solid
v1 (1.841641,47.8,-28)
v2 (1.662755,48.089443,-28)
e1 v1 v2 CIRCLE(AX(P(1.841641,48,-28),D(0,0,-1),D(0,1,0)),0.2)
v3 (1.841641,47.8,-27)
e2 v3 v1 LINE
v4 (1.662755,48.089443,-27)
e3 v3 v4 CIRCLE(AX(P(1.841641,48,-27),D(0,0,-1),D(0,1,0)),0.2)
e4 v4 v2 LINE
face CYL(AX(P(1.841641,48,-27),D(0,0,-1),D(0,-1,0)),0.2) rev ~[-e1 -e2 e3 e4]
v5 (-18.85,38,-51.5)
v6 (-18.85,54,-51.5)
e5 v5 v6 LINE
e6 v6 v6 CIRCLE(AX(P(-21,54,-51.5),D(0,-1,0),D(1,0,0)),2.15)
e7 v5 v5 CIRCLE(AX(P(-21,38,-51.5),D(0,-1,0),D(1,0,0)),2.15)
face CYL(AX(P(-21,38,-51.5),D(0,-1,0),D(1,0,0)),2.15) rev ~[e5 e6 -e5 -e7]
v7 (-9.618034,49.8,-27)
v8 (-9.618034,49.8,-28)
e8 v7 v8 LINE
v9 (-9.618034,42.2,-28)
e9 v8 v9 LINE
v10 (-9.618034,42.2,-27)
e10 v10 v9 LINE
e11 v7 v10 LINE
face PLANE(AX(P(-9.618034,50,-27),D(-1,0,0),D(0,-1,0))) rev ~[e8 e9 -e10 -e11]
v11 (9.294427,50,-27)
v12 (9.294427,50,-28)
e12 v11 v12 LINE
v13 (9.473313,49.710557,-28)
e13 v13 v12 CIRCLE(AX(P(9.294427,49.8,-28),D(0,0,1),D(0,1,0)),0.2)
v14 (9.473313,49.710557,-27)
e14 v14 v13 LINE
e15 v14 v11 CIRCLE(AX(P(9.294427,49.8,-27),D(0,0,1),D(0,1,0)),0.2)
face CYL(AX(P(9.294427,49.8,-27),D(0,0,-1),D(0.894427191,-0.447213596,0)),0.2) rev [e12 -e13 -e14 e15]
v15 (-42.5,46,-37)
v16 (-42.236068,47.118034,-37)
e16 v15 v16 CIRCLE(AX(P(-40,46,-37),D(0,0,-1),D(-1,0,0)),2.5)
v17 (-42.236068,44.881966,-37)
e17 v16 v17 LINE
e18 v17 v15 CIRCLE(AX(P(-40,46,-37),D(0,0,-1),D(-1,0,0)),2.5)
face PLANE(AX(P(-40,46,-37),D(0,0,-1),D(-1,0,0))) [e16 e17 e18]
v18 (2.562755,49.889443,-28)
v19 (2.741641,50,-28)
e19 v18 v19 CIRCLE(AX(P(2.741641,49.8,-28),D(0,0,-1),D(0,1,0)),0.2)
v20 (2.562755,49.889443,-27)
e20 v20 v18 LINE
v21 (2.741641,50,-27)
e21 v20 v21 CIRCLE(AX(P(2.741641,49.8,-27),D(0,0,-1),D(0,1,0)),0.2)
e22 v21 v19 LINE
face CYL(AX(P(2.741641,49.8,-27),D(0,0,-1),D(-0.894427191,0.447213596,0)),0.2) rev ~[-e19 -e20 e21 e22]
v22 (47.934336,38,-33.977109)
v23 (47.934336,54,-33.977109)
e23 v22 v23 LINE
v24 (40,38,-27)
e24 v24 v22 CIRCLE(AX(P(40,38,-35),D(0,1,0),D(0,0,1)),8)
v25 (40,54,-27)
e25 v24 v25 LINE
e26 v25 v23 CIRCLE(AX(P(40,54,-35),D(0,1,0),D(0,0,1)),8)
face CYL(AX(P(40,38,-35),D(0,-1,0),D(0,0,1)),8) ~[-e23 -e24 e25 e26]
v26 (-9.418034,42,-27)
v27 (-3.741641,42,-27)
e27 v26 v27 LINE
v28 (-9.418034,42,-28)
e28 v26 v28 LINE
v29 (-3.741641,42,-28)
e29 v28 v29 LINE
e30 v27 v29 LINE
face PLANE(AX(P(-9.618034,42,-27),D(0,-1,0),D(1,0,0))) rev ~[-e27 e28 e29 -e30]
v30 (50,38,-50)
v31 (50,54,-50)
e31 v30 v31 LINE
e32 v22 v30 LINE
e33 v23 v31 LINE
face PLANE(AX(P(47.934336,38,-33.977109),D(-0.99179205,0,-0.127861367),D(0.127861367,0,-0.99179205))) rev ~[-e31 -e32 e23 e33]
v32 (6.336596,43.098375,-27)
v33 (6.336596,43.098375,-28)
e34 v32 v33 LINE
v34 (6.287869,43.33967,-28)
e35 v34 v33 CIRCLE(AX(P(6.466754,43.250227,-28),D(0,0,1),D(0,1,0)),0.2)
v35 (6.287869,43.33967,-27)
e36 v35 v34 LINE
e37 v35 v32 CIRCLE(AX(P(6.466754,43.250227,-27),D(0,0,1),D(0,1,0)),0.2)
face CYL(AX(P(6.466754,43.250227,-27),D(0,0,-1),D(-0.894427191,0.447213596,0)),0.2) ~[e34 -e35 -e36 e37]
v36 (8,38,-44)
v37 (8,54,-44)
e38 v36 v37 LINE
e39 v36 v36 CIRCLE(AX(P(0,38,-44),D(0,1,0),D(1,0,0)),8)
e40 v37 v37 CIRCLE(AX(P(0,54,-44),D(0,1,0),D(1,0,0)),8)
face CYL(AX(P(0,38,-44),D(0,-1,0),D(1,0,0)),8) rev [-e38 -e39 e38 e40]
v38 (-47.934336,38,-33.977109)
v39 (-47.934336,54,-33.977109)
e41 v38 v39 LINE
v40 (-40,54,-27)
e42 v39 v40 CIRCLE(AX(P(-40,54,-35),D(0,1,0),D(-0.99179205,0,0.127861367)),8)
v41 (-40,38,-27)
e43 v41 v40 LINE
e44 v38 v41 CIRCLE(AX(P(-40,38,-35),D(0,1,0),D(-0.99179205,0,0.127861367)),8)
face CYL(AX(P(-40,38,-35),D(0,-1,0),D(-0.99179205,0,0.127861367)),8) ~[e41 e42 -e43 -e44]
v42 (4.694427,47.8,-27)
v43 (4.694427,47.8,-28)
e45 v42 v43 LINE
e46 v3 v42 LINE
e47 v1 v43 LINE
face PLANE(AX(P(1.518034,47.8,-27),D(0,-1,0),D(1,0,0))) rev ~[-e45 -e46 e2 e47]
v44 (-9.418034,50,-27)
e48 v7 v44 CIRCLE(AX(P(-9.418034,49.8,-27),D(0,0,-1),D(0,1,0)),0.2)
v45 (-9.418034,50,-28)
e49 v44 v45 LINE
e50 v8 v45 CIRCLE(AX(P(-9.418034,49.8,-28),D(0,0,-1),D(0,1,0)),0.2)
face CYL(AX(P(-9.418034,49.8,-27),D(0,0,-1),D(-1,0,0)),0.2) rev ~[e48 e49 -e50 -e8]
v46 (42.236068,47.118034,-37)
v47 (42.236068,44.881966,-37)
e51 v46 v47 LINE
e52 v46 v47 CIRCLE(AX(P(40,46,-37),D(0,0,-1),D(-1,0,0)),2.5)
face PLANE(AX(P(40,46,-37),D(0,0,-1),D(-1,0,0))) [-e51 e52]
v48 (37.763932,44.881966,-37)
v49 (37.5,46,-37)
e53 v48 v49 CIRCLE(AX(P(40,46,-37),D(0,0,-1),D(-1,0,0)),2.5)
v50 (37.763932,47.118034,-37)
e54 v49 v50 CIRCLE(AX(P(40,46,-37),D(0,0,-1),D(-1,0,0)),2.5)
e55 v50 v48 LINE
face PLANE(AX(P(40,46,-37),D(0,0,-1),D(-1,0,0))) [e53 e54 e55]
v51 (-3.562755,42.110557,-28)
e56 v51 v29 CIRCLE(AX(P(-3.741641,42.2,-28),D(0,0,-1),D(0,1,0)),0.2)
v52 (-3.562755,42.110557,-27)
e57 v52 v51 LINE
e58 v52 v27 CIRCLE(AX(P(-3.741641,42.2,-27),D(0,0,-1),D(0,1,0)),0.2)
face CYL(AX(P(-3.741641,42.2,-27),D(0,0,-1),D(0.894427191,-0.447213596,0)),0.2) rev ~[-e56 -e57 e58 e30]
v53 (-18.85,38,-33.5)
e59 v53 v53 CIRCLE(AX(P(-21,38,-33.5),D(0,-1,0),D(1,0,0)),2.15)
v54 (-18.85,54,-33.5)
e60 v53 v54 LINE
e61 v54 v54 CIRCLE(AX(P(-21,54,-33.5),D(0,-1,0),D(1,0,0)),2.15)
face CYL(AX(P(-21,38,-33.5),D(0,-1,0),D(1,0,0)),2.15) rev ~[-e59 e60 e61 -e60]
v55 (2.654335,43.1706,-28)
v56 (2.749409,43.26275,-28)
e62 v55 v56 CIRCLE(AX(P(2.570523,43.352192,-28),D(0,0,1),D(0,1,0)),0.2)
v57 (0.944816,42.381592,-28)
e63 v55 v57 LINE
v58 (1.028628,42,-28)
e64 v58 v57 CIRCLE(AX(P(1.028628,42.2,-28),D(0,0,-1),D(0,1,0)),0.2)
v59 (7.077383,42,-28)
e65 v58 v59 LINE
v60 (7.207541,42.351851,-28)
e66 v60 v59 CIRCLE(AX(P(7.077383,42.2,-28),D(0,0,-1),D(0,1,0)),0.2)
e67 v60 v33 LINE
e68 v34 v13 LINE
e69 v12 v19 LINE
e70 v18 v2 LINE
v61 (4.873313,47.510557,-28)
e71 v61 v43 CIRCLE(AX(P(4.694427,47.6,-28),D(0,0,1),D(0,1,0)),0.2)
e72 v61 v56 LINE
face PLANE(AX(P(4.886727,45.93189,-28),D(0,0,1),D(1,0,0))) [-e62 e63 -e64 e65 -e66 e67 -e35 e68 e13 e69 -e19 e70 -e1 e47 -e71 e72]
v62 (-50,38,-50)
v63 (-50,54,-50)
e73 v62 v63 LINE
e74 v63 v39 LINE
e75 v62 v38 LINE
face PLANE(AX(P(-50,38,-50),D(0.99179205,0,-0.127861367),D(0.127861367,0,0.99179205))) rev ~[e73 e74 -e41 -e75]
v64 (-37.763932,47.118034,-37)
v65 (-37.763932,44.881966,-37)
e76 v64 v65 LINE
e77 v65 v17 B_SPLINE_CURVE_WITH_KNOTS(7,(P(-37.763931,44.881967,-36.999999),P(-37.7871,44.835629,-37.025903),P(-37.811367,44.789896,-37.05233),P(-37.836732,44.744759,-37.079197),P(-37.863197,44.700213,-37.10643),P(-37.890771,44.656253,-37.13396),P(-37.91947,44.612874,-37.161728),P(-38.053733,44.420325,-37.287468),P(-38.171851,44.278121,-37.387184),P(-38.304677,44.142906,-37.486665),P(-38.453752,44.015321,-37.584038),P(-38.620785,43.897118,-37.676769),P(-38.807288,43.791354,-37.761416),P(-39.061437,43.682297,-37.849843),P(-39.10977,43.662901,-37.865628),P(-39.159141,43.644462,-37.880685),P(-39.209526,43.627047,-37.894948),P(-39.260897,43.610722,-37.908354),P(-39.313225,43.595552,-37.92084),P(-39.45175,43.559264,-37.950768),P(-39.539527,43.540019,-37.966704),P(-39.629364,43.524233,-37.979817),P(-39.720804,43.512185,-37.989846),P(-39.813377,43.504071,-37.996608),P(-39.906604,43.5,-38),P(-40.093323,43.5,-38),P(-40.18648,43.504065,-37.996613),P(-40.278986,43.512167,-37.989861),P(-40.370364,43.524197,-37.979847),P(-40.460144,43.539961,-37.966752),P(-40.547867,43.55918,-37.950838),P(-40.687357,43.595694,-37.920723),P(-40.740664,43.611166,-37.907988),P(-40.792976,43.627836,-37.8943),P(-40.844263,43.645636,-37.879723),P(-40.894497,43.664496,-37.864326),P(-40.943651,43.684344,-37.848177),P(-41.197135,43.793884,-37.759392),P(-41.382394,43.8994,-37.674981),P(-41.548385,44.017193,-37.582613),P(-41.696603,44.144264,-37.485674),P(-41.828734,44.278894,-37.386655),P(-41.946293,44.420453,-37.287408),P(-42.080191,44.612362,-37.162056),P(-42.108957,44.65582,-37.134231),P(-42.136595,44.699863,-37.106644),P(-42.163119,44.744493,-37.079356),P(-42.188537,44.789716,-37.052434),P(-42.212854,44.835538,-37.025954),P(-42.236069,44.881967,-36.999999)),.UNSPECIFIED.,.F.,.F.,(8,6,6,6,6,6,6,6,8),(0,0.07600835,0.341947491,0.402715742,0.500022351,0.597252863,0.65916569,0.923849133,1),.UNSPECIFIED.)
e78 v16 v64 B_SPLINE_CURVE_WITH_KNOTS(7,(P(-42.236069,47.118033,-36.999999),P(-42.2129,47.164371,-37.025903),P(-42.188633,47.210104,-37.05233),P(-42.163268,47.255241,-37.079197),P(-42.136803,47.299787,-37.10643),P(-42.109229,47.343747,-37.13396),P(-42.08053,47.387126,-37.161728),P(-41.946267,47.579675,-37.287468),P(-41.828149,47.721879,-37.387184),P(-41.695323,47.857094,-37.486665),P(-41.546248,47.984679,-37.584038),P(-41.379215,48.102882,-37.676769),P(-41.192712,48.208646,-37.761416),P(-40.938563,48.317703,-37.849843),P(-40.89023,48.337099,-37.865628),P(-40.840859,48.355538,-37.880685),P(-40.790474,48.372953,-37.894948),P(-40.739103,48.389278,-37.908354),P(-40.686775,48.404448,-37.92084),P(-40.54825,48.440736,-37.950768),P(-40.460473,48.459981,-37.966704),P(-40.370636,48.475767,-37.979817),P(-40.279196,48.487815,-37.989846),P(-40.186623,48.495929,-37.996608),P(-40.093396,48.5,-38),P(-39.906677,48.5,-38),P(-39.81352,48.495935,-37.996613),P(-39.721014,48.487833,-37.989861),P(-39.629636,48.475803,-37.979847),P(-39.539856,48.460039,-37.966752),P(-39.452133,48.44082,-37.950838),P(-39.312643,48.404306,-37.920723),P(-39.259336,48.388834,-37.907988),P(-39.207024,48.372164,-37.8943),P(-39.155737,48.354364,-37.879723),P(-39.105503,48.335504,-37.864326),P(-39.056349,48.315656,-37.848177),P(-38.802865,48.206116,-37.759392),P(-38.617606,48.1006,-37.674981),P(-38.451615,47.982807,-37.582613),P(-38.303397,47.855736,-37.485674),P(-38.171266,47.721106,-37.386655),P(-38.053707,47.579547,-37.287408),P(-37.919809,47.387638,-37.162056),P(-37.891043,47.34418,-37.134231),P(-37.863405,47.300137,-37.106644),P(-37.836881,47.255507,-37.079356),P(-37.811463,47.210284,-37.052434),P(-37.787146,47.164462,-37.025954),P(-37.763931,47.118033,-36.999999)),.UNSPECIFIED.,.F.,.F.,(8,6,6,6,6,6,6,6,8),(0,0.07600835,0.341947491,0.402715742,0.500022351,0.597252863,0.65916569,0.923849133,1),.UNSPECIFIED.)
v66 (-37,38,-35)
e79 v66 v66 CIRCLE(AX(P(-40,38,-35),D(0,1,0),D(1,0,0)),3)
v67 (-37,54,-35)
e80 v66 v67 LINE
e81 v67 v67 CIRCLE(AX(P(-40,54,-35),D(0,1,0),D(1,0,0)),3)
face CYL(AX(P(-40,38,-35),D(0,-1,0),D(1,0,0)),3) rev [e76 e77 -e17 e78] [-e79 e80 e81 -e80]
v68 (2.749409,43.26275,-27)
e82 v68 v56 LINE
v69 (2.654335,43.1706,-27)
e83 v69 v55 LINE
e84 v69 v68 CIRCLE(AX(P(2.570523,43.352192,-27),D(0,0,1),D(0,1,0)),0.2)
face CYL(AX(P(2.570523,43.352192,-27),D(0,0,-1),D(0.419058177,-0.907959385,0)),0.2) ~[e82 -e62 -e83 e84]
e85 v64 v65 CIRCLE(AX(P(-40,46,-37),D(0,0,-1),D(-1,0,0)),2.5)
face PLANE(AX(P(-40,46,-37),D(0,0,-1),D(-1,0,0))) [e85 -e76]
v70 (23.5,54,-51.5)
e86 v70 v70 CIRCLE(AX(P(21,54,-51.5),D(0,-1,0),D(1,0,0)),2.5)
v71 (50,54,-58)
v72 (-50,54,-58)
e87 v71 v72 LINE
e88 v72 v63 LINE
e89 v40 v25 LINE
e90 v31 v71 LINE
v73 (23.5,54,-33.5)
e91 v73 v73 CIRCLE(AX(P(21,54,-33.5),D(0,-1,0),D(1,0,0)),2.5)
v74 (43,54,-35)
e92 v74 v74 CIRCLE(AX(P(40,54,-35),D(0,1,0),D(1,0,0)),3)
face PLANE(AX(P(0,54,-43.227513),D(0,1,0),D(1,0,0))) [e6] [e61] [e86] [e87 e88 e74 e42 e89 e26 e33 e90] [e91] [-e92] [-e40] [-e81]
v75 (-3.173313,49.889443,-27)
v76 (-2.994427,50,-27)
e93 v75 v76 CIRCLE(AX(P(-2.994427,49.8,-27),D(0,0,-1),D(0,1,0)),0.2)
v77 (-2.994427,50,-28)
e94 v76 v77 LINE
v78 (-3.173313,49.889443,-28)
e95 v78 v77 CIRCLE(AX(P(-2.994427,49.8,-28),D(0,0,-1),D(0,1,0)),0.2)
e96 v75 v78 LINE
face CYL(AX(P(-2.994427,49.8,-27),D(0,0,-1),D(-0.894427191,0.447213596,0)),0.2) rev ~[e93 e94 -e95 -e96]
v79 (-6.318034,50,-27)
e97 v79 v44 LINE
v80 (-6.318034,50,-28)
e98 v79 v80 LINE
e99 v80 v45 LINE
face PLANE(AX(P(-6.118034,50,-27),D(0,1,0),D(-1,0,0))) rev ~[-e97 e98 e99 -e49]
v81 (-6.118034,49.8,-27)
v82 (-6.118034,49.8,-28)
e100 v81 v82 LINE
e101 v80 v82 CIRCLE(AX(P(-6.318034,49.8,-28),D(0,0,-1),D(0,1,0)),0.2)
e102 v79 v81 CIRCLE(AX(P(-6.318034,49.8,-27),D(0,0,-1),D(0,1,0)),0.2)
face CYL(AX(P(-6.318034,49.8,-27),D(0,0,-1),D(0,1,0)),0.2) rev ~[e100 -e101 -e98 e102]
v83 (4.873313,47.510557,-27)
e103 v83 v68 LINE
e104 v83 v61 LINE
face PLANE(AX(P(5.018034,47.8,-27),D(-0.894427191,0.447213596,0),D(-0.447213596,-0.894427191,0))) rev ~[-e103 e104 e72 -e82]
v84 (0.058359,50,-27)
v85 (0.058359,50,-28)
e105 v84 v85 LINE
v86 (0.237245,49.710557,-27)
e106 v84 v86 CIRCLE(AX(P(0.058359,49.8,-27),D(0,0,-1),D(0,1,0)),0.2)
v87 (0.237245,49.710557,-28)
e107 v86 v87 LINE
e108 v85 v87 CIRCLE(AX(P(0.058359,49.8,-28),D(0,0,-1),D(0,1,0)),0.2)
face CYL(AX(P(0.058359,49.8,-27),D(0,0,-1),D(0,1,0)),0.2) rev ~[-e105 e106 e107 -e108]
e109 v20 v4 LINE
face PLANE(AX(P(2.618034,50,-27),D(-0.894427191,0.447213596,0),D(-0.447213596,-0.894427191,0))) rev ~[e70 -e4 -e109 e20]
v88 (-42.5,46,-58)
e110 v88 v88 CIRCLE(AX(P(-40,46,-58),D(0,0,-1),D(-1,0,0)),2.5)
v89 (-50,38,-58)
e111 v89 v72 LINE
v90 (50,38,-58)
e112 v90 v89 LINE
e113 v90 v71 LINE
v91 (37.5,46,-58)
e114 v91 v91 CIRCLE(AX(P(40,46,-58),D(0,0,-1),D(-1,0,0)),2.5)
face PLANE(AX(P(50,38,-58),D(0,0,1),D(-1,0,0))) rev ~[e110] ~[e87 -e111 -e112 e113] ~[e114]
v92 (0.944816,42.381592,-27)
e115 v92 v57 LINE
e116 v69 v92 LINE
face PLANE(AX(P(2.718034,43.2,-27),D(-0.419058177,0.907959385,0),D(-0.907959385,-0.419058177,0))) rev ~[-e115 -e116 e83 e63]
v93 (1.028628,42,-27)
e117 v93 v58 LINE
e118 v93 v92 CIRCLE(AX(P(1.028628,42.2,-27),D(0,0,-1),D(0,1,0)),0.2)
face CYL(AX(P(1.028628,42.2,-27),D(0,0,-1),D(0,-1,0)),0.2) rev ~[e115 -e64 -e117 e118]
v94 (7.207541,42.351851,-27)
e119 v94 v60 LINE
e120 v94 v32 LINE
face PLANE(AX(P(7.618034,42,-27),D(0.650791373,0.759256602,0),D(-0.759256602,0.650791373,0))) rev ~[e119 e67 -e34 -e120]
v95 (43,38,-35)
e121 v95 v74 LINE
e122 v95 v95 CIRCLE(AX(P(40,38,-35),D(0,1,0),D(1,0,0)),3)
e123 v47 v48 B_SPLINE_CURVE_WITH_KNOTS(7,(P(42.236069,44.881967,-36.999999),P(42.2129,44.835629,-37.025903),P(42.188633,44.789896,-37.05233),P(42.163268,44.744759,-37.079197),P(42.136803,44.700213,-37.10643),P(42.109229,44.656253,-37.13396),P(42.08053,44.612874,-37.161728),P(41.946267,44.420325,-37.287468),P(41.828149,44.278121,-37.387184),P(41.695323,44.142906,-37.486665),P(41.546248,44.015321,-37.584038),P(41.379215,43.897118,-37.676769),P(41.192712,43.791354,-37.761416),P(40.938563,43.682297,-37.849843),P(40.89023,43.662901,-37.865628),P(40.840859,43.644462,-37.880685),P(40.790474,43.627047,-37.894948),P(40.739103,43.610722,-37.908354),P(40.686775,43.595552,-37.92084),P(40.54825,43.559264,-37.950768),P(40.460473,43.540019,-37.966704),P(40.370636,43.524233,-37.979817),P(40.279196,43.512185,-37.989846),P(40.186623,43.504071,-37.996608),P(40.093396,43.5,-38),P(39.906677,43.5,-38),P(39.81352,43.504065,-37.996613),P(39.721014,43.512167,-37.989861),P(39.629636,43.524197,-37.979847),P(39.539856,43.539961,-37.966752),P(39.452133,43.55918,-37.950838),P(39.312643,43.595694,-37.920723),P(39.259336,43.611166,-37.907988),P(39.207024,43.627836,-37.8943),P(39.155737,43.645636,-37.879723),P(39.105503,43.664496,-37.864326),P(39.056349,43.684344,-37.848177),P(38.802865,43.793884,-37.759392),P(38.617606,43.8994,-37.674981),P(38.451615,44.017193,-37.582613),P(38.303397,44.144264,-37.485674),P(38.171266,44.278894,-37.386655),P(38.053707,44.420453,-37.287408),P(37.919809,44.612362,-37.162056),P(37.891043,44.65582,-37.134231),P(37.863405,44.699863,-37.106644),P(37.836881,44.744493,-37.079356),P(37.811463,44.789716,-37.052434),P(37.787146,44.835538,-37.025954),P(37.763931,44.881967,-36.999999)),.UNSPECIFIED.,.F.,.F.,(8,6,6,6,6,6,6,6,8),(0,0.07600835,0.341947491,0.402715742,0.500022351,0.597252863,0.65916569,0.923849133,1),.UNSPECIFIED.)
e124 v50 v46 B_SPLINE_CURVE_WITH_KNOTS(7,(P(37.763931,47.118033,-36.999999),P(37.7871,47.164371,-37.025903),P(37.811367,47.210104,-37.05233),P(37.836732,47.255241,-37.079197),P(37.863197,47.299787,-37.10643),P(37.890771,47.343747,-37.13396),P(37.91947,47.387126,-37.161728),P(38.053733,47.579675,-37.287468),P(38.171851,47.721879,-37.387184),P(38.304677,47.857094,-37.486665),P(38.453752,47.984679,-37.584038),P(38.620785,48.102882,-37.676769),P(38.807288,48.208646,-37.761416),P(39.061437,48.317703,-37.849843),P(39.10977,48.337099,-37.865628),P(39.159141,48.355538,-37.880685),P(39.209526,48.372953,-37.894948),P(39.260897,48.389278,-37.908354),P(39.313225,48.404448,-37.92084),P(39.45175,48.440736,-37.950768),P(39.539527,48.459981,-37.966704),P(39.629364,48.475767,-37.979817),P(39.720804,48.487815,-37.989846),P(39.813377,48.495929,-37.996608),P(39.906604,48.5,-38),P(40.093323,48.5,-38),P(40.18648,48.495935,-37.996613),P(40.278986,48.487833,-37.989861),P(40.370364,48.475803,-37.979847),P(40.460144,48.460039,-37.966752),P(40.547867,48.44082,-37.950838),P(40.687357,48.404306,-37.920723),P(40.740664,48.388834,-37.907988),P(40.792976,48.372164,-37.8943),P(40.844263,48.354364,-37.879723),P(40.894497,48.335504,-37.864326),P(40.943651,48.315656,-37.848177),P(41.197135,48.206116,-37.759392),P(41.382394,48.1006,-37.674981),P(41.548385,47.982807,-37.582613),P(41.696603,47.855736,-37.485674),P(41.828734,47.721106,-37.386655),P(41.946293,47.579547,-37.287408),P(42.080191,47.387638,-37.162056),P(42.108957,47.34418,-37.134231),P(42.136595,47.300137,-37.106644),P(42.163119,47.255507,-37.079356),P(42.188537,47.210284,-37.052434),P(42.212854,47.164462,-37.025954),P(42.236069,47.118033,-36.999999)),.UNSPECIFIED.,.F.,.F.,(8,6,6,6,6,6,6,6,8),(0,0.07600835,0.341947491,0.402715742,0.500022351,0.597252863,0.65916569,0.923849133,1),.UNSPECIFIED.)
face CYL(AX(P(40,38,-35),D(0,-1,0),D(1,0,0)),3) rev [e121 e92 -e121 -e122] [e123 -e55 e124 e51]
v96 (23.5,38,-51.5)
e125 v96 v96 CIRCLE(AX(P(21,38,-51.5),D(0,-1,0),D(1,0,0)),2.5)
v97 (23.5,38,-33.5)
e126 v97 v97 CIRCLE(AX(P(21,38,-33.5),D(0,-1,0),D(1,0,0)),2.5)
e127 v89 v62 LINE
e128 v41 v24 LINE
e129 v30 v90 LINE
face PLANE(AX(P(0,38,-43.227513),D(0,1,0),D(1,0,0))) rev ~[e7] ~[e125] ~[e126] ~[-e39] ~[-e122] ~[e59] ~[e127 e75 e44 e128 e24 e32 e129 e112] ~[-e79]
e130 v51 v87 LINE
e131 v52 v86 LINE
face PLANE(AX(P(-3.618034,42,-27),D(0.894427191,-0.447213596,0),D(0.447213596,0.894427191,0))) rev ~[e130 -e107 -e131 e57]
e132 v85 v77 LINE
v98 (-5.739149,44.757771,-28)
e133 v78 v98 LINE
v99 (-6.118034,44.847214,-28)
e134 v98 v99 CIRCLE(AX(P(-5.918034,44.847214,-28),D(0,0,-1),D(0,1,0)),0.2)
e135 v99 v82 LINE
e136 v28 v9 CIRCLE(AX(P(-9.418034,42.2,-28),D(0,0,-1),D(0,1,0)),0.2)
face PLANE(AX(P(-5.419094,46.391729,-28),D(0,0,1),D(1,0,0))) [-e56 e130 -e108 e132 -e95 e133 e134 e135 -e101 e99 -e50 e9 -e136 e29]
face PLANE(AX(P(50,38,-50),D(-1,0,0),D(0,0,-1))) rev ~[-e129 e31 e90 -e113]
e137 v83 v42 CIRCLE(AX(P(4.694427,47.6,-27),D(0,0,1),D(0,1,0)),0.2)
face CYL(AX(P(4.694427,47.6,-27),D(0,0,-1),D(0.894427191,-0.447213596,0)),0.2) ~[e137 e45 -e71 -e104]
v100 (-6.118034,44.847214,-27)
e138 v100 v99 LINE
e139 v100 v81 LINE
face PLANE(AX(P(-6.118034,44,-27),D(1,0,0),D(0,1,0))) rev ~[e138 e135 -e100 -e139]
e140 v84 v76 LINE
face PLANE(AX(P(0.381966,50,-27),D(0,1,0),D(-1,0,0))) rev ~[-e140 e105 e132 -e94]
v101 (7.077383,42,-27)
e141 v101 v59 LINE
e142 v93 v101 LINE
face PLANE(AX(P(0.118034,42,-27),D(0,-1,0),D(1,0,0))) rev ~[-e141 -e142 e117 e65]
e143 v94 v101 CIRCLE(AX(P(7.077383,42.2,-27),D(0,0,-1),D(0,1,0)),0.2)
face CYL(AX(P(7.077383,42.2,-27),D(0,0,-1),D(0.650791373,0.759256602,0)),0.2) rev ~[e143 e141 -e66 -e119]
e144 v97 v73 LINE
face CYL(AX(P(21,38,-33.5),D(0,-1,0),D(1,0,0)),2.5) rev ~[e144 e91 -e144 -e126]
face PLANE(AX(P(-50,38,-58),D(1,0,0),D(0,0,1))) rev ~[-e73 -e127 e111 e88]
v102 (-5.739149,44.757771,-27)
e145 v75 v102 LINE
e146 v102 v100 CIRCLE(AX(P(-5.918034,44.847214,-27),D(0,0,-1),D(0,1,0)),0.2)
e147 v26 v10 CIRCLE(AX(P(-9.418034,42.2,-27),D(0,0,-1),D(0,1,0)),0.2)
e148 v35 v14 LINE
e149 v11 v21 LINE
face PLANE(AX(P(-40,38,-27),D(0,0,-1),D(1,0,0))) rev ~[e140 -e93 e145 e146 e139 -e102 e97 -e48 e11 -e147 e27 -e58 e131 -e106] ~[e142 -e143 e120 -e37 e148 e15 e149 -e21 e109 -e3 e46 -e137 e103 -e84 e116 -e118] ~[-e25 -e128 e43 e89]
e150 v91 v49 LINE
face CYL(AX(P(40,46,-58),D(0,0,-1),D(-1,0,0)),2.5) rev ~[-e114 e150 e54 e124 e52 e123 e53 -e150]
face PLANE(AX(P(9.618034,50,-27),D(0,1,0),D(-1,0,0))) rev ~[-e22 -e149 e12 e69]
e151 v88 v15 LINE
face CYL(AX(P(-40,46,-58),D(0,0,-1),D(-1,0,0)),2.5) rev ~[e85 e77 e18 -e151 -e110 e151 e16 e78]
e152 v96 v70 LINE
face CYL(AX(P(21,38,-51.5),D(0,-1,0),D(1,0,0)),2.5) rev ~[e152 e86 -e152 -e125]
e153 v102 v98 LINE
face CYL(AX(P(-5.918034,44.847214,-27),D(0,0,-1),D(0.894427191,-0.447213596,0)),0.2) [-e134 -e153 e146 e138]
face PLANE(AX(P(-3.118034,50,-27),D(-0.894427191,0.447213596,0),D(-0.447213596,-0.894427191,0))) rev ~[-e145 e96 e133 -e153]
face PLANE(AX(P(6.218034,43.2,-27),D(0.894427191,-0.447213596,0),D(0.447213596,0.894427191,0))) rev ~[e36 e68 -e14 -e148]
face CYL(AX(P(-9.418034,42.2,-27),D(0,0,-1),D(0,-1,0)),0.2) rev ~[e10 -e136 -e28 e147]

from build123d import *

# Parameters (mm, degrees)
SKETCH1_R           = 14
SKETCH1_R_2         = 5
BOSS_EXTRUDE1_DEPTH = 38
SKETCH2_R           = 8
SKETCH2_R_2         = 3
BOSS_EXTRUDE2_DEPTH = 16
SKETCH3_R           = 2.5
CUT_EXTRUDE1_DEPTH  = 21
SKETCH4_R           = 2.15
SKETCH4_R_2         = 2.5
CUT_EXTRUDE2_DEPTH  = 21
CUT_EXTRUDE3_DEPTH  = 1
FILLET2_R           = 0.2


with BuildPart() as part:
    # Sketch1 → Boss-Extrude1 (new body)
    with BuildSketch(Plane(origin=(0, 0, 0), x_dir=(1, 0, 0), z_dir=(0, 1, 0))):
        with BuildLine():
            Line((40, 57), (-40, 57))
            ThreePointArc((-40, 57), (-58.987886037, 46.111263827), (-59.17994648, 24.223653075))
            Line((-59.17994648, 24.223653075), (-47.255332989, 3))
            Line((-47.255332989, 3), (-32.311027529, 3))
            ThreePointArc((-32.311027529, 3), (32.415238263, -1.501608583), (-32.45, 0))
            Line((-32.45, 0), (-47.255332989, 0))
            Line((-47.255332989, 0), (-47.255332989, -10))
            Line((-47.255332989, -10), (-41.255332989, -10))
            ThreePointArc((-41.255332989, -10), (-4.643586709, -42.195255687), (38.093342034, -18.732319468))
            Line((38.093342034, -18.732319468), (59.742132503, 25.291848568))
            ThreePointArc((59.742132503, 25.291848568), (58.675911377, 46.627997861), (40, 57))
        make_face()
        with Locations((-40, 35)):
            Circle(SKETCH1_R, mode=Mode.SUBTRACT)
        with Locations((0, 44)):
            Circle(SKETCH1_R_2, mode=Mode.SUBTRACT)
        with Locations((40, 35)):
            Circle(SKETCH1_R, mode=Mode.SUBTRACT)
    extrude(amount=BOSS_EXTRUDE1_DEPTH)


with BuildPart() as body_2:
    # Sketch2 → Boss-Extrude2 (new body)
    with BuildSketch(Plane(origin=(0, 38, 0), x_dir=(1, 0, 0), z_dir=(0, 1, 0))):
        with BuildLine():
            Line((-40, 27), (40, 27))
            ThreePointArc((40, 27), (45.282843577, 28.992374534), (47.934336402, 33.977109066))
            Line((47.934336402, 33.977109066), (50, 50))
            Line((50, 50), (50, 58))
            Line((50, 58), (-50, 58))
            Line((-50, 58), (-50, 50))
            Line((-50, 50), (-47.934336402, 33.977109066))
            ThreePointArc((-47.934336402, 33.977109066), (-45.282843577, 28.992374534), (-40, 27))
        make_face()
        with Locations((0, 44)):
            Circle(SKETCH2_R, mode=Mode.SUBTRACT)
        with Locations((-40, 35)):
            Circle(SKETCH2_R_2, mode=Mode.SUBTRACT)
        with Locations((40, 35)):
            Circle(SKETCH2_R_2, mode=Mode.SUBTRACT)
    extrude(amount=BOSS_EXTRUDE2_DEPTH)

    # Sketch3 → Cut-Extrude1 (cut)
    with BuildSketch(Plane(origin=(0, 0, -58), x_dir=(-1, 0, 0), z_dir=(0, 0, -1))):
        with Locations((-40, 46)):
            Circle(SKETCH3_R)
        with Locations((40, 46)):
            Circle(SKETCH3_R)
    extrude(amount=-CUT_EXTRUDE1_DEPTH, mode=Mode.SUBTRACT)

    # Sketch4 → Cut-Extrude2 (cut)
    with BuildSketch(Plane.XZ.offset(-38)):
        with Locations((-21, -33.5)):
            Circle(SKETCH4_R)
        with Locations((-21, -51.5)):
            Circle(SKETCH4_R)
        with Locations((21, -51.5)):
            Circle(SKETCH4_R_2)
        with Locations((21, -33.5)):
            Circle(SKETCH4_R_2)
    extrude(amount=-CUT_EXTRUDE2_DEPTH, mode=Mode.SUBTRACT)

    # Sketch6 → Cut-Extrude3 (cut)
    with BuildSketch(Plane.XY.offset(-27)):
        Polygon((-6.118033989, 44), (-6.118033989, 50), (-9.618033989, 50), (-9.618033989, 42), (-3.618033989, 42), (0.381966011, 50), (-3.118033989, 50), align=None)
        Polygon((9.618033989, 50), (2.618033989, 50), (1.518033989, 47.8), (5.018033989, 47.8), (2.718033989, 43.2), (0.118033989, 42), (2.118033989, 42), (5.618033989, 42), (7.618033989, 42), (6.218033989, 43.2), align=None)
    extrude(amount=-CUT_EXTRUDE3_DEPTH, mode=Mode.SUBTRACT)

    # Fillet2
    fillet2_edges = [body_2.edges().sort_by_distance(p)[0] for p in [
        (7.618033989, 42, -27.5),
        (0.118033989, 42, -27.5),
        (2.718033989, 43.2, -27.5),
        (5.018033989, 47.8, -27.5),
        (1.518033989, 47.8, -27.5),
        (2.618033989, 50, -27.5),
        (9.618033989, 50, -27.5),
        (6.218033989, 43.2, -27.5),
        (-6.118033989, 50, -27.5),
        (-6.118033989, 44, -27.5),
        (-3.118033989, 50, -27.5),
        (0.381966011, 50, -27.5),
        (-3.618033989, 42, -27.5),
        (-9.618033989, 42, -27.5),
        (-9.618033989, 50, -27.5),
    ]]
    fillet(fillet2_edges, radius=FILLET2_R)


solid = body_2.part
